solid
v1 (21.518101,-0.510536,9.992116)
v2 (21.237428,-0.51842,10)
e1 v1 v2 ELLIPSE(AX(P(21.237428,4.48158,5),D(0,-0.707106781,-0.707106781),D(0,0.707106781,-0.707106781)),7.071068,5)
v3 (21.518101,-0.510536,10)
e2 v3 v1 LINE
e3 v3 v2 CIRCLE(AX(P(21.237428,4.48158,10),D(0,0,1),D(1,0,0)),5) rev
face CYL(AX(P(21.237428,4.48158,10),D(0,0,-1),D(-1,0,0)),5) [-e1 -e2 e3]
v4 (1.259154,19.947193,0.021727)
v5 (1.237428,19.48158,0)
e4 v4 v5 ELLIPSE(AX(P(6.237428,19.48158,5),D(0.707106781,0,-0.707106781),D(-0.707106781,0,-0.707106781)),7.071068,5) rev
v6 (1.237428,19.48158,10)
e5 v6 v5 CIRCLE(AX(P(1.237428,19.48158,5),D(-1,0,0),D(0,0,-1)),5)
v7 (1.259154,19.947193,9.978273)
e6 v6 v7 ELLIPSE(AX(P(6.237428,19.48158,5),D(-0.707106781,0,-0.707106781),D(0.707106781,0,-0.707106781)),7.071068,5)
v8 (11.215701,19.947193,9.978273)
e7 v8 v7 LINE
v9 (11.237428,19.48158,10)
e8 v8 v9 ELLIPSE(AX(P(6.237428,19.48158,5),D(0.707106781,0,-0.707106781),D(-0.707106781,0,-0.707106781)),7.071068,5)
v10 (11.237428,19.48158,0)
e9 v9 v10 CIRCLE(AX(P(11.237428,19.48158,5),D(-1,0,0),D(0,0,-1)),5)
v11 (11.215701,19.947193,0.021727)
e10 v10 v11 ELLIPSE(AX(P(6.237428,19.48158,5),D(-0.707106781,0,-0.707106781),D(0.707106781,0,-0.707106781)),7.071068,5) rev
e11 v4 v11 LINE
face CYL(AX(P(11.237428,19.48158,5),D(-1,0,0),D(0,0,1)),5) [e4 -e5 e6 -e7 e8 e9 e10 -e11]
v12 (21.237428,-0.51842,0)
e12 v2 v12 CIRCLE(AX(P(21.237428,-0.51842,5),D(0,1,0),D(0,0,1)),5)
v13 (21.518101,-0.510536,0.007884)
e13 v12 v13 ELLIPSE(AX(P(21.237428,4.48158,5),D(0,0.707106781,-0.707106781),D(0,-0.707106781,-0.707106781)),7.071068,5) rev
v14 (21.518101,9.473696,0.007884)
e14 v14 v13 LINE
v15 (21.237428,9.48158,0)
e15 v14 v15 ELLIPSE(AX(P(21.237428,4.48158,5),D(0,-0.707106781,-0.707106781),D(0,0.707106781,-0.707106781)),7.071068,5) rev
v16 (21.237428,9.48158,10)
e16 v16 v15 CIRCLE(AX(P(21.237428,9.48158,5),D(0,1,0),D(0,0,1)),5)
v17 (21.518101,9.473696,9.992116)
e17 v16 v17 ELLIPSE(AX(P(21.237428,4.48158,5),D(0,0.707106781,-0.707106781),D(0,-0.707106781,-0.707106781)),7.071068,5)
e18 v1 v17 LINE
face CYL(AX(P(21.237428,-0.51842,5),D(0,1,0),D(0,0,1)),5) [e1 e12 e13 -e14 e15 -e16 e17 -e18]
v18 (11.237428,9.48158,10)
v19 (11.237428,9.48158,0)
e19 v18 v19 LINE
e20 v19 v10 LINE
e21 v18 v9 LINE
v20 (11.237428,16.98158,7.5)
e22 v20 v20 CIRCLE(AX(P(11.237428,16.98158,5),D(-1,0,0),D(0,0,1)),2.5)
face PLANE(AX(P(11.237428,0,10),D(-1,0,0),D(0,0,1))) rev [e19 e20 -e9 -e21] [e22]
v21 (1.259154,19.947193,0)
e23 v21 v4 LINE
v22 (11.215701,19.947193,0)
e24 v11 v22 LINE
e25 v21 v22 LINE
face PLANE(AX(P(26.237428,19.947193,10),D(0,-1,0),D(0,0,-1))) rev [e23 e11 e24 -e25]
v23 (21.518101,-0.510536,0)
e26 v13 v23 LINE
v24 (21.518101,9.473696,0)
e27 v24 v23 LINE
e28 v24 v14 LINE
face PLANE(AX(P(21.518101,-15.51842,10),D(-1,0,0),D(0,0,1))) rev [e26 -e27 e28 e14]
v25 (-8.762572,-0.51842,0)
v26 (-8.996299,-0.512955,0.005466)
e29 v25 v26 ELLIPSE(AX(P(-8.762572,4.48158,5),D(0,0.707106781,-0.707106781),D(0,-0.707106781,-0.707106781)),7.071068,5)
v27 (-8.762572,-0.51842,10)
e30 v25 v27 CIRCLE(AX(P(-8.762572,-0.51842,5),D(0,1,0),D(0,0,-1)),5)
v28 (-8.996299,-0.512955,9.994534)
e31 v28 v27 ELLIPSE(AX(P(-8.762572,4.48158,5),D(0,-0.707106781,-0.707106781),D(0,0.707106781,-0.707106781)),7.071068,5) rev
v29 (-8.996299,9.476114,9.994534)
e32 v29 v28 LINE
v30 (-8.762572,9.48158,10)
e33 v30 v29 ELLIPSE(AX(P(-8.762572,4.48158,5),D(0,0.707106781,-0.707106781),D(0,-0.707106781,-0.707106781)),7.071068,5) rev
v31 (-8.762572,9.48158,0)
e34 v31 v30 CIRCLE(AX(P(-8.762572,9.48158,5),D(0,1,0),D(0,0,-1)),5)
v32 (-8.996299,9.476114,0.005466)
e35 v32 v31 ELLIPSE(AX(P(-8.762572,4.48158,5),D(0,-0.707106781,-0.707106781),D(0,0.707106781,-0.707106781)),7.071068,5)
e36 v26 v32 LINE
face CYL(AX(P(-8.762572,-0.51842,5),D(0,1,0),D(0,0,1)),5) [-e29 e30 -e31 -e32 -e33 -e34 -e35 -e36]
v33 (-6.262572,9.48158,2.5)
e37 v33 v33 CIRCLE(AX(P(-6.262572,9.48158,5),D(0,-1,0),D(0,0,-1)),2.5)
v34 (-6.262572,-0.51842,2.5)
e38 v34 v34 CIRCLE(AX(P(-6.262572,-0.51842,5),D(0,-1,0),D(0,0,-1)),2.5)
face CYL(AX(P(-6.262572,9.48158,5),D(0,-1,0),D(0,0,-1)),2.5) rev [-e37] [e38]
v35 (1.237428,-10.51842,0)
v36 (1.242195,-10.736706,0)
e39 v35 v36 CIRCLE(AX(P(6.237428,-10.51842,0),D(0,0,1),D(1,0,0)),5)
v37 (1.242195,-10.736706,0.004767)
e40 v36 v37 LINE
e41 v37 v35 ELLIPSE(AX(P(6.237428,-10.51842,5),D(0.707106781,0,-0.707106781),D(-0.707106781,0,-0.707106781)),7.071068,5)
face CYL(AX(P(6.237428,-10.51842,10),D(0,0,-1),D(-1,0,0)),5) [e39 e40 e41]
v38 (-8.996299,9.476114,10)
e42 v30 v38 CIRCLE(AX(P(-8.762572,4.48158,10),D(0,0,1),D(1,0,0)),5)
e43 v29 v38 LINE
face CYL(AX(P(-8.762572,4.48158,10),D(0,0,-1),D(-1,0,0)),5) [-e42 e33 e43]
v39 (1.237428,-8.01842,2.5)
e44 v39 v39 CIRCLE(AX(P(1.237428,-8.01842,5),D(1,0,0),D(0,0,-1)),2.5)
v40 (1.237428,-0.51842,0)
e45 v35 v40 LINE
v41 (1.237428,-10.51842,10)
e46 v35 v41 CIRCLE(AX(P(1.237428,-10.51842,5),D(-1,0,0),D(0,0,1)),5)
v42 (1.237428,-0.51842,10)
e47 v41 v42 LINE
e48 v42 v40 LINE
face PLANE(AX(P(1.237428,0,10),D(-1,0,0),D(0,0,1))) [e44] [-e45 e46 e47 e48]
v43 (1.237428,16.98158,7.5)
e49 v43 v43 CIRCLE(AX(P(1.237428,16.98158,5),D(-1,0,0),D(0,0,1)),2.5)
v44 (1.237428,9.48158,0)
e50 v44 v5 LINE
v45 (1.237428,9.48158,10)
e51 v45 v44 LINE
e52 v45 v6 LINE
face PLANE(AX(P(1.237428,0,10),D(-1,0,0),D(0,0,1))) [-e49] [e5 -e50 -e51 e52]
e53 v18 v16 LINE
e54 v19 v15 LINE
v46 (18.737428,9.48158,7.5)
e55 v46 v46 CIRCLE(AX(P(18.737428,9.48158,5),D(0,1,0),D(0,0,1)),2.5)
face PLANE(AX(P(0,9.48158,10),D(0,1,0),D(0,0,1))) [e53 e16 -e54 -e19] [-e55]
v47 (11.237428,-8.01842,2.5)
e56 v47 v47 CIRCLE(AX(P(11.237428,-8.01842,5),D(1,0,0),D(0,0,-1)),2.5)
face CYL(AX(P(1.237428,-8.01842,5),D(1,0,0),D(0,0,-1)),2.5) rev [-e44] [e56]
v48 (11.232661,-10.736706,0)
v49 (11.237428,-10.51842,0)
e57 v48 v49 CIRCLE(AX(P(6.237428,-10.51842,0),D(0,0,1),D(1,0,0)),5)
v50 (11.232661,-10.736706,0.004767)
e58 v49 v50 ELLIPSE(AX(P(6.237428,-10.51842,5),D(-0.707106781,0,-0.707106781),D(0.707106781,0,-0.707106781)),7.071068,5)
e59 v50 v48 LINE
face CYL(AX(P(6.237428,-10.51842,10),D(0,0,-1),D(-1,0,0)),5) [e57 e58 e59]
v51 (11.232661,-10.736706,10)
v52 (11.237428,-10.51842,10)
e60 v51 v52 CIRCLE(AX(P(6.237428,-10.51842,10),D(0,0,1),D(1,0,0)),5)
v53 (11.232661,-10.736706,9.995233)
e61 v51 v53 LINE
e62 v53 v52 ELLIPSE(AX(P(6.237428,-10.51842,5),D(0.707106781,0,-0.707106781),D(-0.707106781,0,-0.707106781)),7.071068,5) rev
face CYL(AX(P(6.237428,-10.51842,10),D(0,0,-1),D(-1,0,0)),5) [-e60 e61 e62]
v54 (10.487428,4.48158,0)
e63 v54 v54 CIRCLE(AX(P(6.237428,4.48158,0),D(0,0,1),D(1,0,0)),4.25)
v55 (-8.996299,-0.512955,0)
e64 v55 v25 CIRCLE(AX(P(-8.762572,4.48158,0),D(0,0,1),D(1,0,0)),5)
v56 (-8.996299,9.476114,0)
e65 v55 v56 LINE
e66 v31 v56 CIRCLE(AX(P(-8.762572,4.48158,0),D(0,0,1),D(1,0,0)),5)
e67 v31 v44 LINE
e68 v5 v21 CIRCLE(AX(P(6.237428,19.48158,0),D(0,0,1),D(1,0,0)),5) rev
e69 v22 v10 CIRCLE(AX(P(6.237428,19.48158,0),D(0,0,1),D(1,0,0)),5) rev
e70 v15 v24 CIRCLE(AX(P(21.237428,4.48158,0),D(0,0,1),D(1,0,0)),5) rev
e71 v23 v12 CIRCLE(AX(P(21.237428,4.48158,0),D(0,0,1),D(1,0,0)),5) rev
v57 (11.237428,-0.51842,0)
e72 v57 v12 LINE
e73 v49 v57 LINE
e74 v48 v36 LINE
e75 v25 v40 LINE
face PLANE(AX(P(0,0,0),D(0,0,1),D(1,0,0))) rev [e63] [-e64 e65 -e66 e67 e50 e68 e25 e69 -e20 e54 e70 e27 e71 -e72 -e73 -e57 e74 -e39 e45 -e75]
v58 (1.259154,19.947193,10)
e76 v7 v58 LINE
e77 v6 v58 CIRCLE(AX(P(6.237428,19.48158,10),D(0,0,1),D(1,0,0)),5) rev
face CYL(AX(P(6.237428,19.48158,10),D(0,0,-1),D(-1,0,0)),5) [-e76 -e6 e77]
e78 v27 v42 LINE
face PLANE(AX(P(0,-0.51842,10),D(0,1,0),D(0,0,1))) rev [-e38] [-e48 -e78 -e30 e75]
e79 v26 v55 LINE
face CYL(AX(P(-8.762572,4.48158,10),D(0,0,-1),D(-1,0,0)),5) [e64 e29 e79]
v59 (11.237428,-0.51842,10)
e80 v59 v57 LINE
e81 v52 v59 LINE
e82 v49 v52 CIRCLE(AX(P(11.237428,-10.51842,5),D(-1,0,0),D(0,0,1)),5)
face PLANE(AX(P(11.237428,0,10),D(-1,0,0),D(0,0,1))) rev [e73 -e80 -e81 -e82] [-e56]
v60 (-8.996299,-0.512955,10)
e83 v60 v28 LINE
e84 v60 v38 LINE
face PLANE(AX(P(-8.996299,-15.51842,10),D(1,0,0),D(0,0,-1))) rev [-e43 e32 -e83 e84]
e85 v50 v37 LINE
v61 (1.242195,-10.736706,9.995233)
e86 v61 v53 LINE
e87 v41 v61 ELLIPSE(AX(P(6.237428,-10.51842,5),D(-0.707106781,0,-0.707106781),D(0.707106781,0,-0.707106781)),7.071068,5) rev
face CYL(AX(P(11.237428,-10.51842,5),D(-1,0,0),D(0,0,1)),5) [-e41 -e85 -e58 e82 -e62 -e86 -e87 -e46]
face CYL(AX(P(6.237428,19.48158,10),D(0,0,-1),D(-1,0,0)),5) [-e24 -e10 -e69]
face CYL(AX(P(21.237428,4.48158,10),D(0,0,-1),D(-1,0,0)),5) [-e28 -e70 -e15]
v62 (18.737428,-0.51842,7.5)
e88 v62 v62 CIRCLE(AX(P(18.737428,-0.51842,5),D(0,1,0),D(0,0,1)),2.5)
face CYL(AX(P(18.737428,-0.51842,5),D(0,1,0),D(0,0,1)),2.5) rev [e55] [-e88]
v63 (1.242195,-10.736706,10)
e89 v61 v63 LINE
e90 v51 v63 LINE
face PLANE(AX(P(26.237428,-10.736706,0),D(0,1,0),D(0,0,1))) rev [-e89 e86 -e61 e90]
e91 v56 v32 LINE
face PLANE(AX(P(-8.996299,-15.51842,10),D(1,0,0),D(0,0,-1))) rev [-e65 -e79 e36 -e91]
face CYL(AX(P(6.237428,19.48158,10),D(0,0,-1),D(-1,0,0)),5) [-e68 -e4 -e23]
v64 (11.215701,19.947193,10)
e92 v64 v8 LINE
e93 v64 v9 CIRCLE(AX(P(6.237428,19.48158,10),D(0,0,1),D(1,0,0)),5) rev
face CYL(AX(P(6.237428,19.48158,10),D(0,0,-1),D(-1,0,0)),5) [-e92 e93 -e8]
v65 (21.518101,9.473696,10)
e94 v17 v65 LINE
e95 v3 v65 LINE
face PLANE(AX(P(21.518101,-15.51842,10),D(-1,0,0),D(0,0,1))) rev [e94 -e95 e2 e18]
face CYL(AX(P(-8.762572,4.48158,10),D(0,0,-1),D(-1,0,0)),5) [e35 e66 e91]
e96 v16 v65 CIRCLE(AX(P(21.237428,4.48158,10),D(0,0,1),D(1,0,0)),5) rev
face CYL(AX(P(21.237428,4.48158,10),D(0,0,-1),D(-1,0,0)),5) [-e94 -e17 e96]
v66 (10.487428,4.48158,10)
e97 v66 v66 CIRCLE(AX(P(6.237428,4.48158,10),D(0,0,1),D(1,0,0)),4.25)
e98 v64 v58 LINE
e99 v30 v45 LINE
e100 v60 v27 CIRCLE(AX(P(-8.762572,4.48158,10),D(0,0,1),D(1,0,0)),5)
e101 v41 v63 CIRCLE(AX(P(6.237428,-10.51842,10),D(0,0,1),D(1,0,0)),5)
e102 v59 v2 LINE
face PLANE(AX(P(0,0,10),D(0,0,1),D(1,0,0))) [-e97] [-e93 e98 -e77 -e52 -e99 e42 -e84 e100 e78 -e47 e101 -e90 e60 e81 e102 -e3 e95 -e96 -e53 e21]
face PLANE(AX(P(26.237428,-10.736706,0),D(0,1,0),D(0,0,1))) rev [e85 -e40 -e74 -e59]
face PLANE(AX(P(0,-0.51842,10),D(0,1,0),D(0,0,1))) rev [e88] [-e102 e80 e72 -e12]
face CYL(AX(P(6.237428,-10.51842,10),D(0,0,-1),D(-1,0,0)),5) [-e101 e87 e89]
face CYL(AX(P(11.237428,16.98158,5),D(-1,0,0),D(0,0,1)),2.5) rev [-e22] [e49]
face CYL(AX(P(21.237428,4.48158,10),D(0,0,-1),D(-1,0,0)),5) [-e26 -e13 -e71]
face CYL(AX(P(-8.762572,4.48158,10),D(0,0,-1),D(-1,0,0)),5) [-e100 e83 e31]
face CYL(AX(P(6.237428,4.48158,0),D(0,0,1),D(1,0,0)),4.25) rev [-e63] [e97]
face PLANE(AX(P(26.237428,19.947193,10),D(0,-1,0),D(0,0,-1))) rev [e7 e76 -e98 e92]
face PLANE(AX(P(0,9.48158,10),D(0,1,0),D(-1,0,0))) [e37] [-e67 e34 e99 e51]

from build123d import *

# Parameters (mm, degrees)
EXTRUDE_1_DEPTH     = 10
CUT_EXTRUDE_1_DEPTH = 10
CUT_EXTRUDE_2_DEPTH = 10
CUT_EXTRUDE_3_DEPTH = 10
CUT_EXTRUDE_4_DEPTH = 10
CUT_EXTRUDE_5_DEPTH = 10
SKETCH_8_R          = 4.25
SKETCH_8_R_2        = 3
CUT_EXTRUDE_6_DEPTH = 38.252521334
SKETCH_9_W          = 10
SKETCH_9_H          = 4.534386639
CUT_EXTRUDE_7_DEPTH = 37.39158883
EXTRUDE_2_DEPTH     = 10
SKETCH_12_W         = 10
SKETCH_12_H         = 4.781714723
CUT_EXTRUDE_8_DEPTH = 37.39158883
EXTRUDE_3_DEPTH     = 10
SKETCH_15_W         = 4.719326728
SKETCH_15_H         = 10
SKETCH_15_W_2       = 4.766273505
CUT_EXTRUDE_9_DEPTH = 38.595247149
EXTRUDE_4_DEPTH     = 10


with BuildPart() as part:
    # 草图2 → 凸台-拉伸1 (new body)
    with BuildSketch(Plane.XY):
        with BuildLine():
            Line((1.237427622, 9.481579556), (1.237427622, 19.481579556))
            ThreePointArc((1.237427622, 19.481579556), (6.237427622, 24.481579556), (11.237427622, 19.481579556))
            Line((11.237427622, 19.481579556), (11.237427622, 9.481579556))
            Line((11.237427622, 9.481579556), (21.237427622, 9.481579556))
            ThreePointArc((21.237427622, 9.481579556), (26.237427622, 4.481579556), (21.237427622, -0.518420444))
            Line((21.237427622, -0.518420444), (11.237427622, -0.518420444))
            Line((11.237427622, -0.518420444), (11.237427622, -10.518420444))
            ThreePointArc((11.237427622, -10.518420444), (6.237427622, -15.518420444), (1.237427622, -10.518420444))
            Line((1.237427622, -10.518420444), (1.237427622, -0.518420444))
            Line((1.237427622, -0.518420444), (-8.762572378, -0.518420444))
            ThreePointArc((-8.762572378, -0.518420444), (-13.762572378, 4.481579556), (-8.762572378, 9.481579556))
            Line((-8.762572378, 9.481579556), (1.237427622, 9.481579556))
        make_face()
    extrude(amount=EXTRUDE_1_DEPTH)

    # 草图3 → 切除-拉伸1 (cut)
    with BuildSketch(Plane.XZ.offset(0.518420444)):
        with BuildLine():
            ThreePointArc((-8.342698114, 3.613249509), (-6.262572378, 2.5), (-4.182446643, 3.613249509))
            Line((-4.182446643, 3.613249509), (-6.262572378, 5))
            Line((-6.262572378, 5), (-8.342698114, 3.613249509))
        make_face()
        with BuildLine():
            Line((-6.262572378, 5), (-4.182446643, 3.613249509))
            ThreePointArc((-4.182446643, 3.613249509), (-3.869842312, 4.275539628), (-3.762572378, 5))
            ThreePointArc((-3.762572378, 5), (-3.869842312, 5.724460372), (-4.182446643, 6.386750491))
            Line((-4.182446643, 6.386750491), (-6.262572378, 5))
        make_face()
        with BuildLine():
            ThreePointArc((-8.342698114, 6.386750491), (-8.655302445, 5.724460372), (-8.762572378, 5))
            ThreePointArc((-8.762572378, 5), (-8.655302445, 4.275539628), (-8.342698114, 3.613249509))
            Line((-8.342698114, 3.613249509), (-6.262572378, 5))
            Line((-6.262572378, 5), (-8.342698114, 6.386750491))
        make_face()
        with BuildLine():
            Line((-6.262572378, 5), (-4.182446643, 6.386750491))
            ThreePointArc((-4.182446643, 6.386750491), (-6.262572378, 7.5), (-8.342698114, 6.386750491))
            Line((-8.342698114, 6.386750491), (-6.262572378, 5))
        make_face()
    extrude(amount=-CUT_EXTRUDE_1_DEPTH, mode=Mode.SUBTRACT)

    # 草图4 → 切除-拉伸2 (cut)
    with BuildSketch(Plane(origin=(11.237427622, 0, 0), x_dir=(0, 0, -1), z_dir=(1, 0, 0))):
        with BuildLine():
            ThreePointArc((-6.386750491, -10.09854618), (-5.724460372, -10.411150511), (-5, -10.518420444))
            ThreePointArc((-5, -10.518420444), (-4.275539628, -10.411150511), (-3.613249509, -10.09854618))
            Line((-3.613249509, -10.09854618), (-5, -8.018420444))
            Line((-5, -8.018420444), (-6.386750491, -10.09854618))
        make_face()
        with BuildLine():
            Line((-5, -8.018420444), (-3.613249509, -10.09854618))
            ThreePointArc((-3.613249509, -10.09854618), (-2.795813503, -9.198065258), (-2.5, -8.018420444))
            ThreePointArc((-2.5, -8.018420444), (-2.795813503, -6.83877563), (-3.613249509, -5.938294708))
            Line((-3.613249509, -5.938294708), (-5, -8.018420444))
        make_face()
        with BuildLine():
            Line((-5, -8.018420444), (-3.613249509, -5.938294708))
            ThreePointArc((-3.613249509, -5.938294708), (-5, -5.518420444), (-6.386750491, -5.938294708))
            Line((-6.386750491, -5.938294708), (-5, -8.018420444))
        make_face()
        with BuildLine():
            ThreePointArc((-6.386750491, -5.938294708), (-7.5, -8.018420444), (-6.386750491, -10.09854618))
            Line((-6.386750491, -10.09854618), (-5, -8.018420444))
            Line((-5, -8.018420444), (-6.386750491, -5.938294708))
        make_face()
    extrude(amount=-CUT_EXTRUDE_2_DEPTH, mode=Mode.SUBTRACT)

    # 草图5 → 切除-拉伸3 (cut)
    with BuildSketch(Plane(origin=(0, 9.481579556, 0), x_dir=(1, 0, 0), z_dir=(0, 1, 0))):
        with BuildLine():
            ThreePointArc((20.817553357, -6.386750491), (21.130157688, -5.724460372), (21.237427622, -5))
            ThreePointArc((21.237427622, -5), (21.130157688, -4.275539628), (20.817553357, -3.613249509))
            Line((20.817553357, -3.613249509), (18.737427622, -5))
            Line((18.737427622, -5), (20.817553357, -6.386750491))
        make_face()
        with BuildLine():
            Line((18.737427622, -5), (20.817553357, -3.613249509))
            ThreePointArc((20.817553357, -3.613249509), (18.737427622, -2.5), (16.657301886, -3.613249509))
            Line((16.657301886, -3.613249509), (18.737427622, -5))
        make_face()
        with BuildLine():
            Line((18.737427622, -5), (16.657301886, -3.613249509))
            ThreePointArc((16.657301886, -3.613249509), (16.237427622, -5), (16.657301886, -6.386750491))
            Line((16.657301886, -6.386750491), (18.737427622, -5))
        make_face()
        with BuildLine():
            ThreePointArc((16.657301886, -6.386750491), (18.737427622, -7.5), (20.817553357, -6.386750491))
            Line((20.817553357, -6.386750491), (18.737427622, -5))
            Line((18.737427622, -5), (16.657301886, -6.386750491))
        make_face()
    extrude(amount=-CUT_EXTRUDE_3_DEPTH, mode=Mode.SUBTRACT)

    # 草图6 → 切除-拉伸4 (cut)
    with BuildSketch(Plane.ZY.offset(-1.237427622)):
        with BuildLine():
            ThreePointArc((6.386750491, 19.061705292), (5, 19.481579556), (3.613249509, 19.061705292))
            Line((3.613249509, 19.061705292), (5, 16.981579556))
            Line((5, 16.981579556), (6.386750491, 19.061705292))
        make_face()
        with BuildLine():
            Line((5, 16.981579556), (3.613249509, 19.061705292))
            ThreePointArc((3.613249509, 19.061705292), (2.5, 16.981579556), (3.613249509, 14.90145382))
            Line((3.613249509, 14.90145382), (5, 16.981579556))
        make_face()
        with BuildLine():
            Line((6.386750491, 14.90145382), (5, 16.981579556))
            Line((5, 16.981579556), (3.613249509, 14.90145382))
            ThreePointArc((3.613249509, 14.90145382), (5, 14.481579556), (6.386750491, 14.90145382))
        make_face()
        with BuildLine():
            Line((6.386750491, 19.061705292), (5, 16.981579556))
            Line((5, 16.981579556), (6.386750491, 14.90145382))
            ThreePointArc((6.386750491, 14.90145382), (7.204186497, 15.801934742), (7.5, 16.981579556))
            ThreePointArc((7.5, 16.981579556), (7.204186497, 18.16122437), (6.386750491, 19.061705292))
        make_face()
    extrude(amount=-CUT_EXTRUDE_4_DEPTH, mode=Mode.SUBTRACT)

    # 草图7 → 切除-拉伸5 (cut)
    with BuildSketch(Plane.XY.offset(10)):
        with BuildLine():
            ThreePointArc((9.237427622, 4.481579556), (9.009066219, 5.629629853), (8.358747965, 6.602899899))
            Line((8.358747965, 6.602899899), (6.237427622, 4.481579556))
            Line((6.237427622, 4.481579556), (8.358747965, 2.360259212))
            ThreePointArc((8.358747965, 2.360259212), (9.009066219, 3.333529259), (9.237427622, 4.481579556))
        make_face()
        with BuildLine():
            Line((6.237427622, 4.481579556), (8.358747965, 6.602899899))
            ThreePointArc((8.358747965, 6.602899899), (6.237427622, 7.481579556), (4.116107278, 6.602899899))
            Line((4.116107278, 6.602899899), (6.237427622, 4.481579556))
        make_face()
        with BuildLine():
            Line((8.358747965, 2.360259212), (6.237427622, 4.481579556))
            Line((6.237427622, 4.481579556), (4.116107278, 2.360259212))
            ThreePointArc((4.116107278, 2.360259212), (6.237427622, 1.481579556), (8.358747965, 2.360259212))
        make_face()
        with BuildLine():
            Line((4.116107278, 2.360259212), (6.237427622, 4.481579556))
            Line((6.237427622, 4.481579556), (4.116107278, 6.602899899))
            ThreePointArc((4.116107278, 6.602899899), (3.237427622, 4.481579556), (4.116107278, 2.360259212))
        make_face()
    extrude(amount=-CUT_EXTRUDE_5_DEPTH, mode=Mode.SUBTRACT)

    # 草图8 → 切除-拉伸6 (cut, through all)
    with BuildSketch(Plane.XY.offset(10)):
        with Locations((6.237427622, 4.481579556)):
            Circle(SKETCH_8_R)
        with Locations((6.237427622, 4.481579556)):
            Circle(SKETCH_8_R_2, mode=Mode.SUBTRACT)
    extrude(amount=-CUT_EXTRUDE_6_DEPTH, mode=Mode.SUBTRACT)

    # 草图9 → 切除-拉伸7 (cut, through all)
    with BuildSketch(Plane.ZY.offset(-1.237427622)):
        with Locations((5, 22.214386237)):
            Rectangle(SKETCH_9_W, SKETCH_9_H)
    extrude(amount=-CUT_EXTRUDE_7_DEPTH, mode=Mode.SUBTRACT)

    # 草图10 → 凸台-拉伸2 (add)
    with BuildSketch(Plane.ZY.offset(-1.237427622)):
        with BuildLine():
            Line((10, 19.481579556), (5, 19.481579556))
            Line((5, 19.481579556), (0, 19.481579556))
            ThreePointArc((0, 19.481579556), (5, 24.481579556), (10, 19.481579556))
        make_face()
    extrude(amount=-EXTRUDE_2_DEPTH)

    # 草图12 → 切除-拉伸8 (cut, through all)
    with BuildSketch(Plane.ZY.offset(-1.237427622)):
        with Locations((5, -13.127563083)):
            Rectangle(SKETCH_12_W, SKETCH_12_H)
    extrude(amount=-CUT_EXTRUDE_8_DEPTH, mode=Mode.SUBTRACT)

    # 草图13 → 凸台-拉伸3 (add)
    with BuildSketch(Plane.ZY.offset(-1.237427622)):
        with BuildLine():
            Line((10, -10.518420444), (5, -10.518420444))
            Line((5, -10.518420444), (0, -10.518420444))
            ThreePointArc((0, -10.518420444), (5, -15.518420444), (10, -10.518420444))
        make_face()
    extrude(amount=-EXTRUDE_3_DEPTH)

    # 草图15 → 切除-拉伸9 (cut, through all)
    with BuildSketch(Plane(origin=(0, 9.481579556, 0), x_dir=(1, 0, 0), z_dir=(0, 1, 0))):
        with Locations((23.877764258, -5)):
            Rectangle(SKETCH_15_W, SKETCH_15_H)
        with Locations((-11.379435626, -5)):
            Rectangle(SKETCH_15_W_2, SKETCH_15_H)
    extrude(amount=-CUT_EXTRUDE_9_DEPTH, mode=Mode.SUBTRACT)

    # 草图16 → 凸台-拉伸4 (add)
    with BuildSketch(Plane(origin=(0, 9.481579556, 0), x_dir=(1, 0, 0), z_dir=(0, 1, 0))):
        with BuildLine():
            Line((21.237427622, -5), (21.237427622, 0))
            ThreePointArc((21.237427622, 0), (26.237427622, -5), (21.237427622, -10))
            Line((21.237427622, -10), (21.237427622, -5))
        make_face()
        with BuildLine():
            Line((-8.762572378, -5), (-8.762572378, 0))
            ThreePointArc((-8.762572378, 0), (-13.762572378, -5), (-8.762572378, -10))
            Line((-8.762572378, -10), (-8.762572378, -5))
        make_face()
    extrude(amount=-EXTRUDE_4_DEPTH)


solid = part.part
